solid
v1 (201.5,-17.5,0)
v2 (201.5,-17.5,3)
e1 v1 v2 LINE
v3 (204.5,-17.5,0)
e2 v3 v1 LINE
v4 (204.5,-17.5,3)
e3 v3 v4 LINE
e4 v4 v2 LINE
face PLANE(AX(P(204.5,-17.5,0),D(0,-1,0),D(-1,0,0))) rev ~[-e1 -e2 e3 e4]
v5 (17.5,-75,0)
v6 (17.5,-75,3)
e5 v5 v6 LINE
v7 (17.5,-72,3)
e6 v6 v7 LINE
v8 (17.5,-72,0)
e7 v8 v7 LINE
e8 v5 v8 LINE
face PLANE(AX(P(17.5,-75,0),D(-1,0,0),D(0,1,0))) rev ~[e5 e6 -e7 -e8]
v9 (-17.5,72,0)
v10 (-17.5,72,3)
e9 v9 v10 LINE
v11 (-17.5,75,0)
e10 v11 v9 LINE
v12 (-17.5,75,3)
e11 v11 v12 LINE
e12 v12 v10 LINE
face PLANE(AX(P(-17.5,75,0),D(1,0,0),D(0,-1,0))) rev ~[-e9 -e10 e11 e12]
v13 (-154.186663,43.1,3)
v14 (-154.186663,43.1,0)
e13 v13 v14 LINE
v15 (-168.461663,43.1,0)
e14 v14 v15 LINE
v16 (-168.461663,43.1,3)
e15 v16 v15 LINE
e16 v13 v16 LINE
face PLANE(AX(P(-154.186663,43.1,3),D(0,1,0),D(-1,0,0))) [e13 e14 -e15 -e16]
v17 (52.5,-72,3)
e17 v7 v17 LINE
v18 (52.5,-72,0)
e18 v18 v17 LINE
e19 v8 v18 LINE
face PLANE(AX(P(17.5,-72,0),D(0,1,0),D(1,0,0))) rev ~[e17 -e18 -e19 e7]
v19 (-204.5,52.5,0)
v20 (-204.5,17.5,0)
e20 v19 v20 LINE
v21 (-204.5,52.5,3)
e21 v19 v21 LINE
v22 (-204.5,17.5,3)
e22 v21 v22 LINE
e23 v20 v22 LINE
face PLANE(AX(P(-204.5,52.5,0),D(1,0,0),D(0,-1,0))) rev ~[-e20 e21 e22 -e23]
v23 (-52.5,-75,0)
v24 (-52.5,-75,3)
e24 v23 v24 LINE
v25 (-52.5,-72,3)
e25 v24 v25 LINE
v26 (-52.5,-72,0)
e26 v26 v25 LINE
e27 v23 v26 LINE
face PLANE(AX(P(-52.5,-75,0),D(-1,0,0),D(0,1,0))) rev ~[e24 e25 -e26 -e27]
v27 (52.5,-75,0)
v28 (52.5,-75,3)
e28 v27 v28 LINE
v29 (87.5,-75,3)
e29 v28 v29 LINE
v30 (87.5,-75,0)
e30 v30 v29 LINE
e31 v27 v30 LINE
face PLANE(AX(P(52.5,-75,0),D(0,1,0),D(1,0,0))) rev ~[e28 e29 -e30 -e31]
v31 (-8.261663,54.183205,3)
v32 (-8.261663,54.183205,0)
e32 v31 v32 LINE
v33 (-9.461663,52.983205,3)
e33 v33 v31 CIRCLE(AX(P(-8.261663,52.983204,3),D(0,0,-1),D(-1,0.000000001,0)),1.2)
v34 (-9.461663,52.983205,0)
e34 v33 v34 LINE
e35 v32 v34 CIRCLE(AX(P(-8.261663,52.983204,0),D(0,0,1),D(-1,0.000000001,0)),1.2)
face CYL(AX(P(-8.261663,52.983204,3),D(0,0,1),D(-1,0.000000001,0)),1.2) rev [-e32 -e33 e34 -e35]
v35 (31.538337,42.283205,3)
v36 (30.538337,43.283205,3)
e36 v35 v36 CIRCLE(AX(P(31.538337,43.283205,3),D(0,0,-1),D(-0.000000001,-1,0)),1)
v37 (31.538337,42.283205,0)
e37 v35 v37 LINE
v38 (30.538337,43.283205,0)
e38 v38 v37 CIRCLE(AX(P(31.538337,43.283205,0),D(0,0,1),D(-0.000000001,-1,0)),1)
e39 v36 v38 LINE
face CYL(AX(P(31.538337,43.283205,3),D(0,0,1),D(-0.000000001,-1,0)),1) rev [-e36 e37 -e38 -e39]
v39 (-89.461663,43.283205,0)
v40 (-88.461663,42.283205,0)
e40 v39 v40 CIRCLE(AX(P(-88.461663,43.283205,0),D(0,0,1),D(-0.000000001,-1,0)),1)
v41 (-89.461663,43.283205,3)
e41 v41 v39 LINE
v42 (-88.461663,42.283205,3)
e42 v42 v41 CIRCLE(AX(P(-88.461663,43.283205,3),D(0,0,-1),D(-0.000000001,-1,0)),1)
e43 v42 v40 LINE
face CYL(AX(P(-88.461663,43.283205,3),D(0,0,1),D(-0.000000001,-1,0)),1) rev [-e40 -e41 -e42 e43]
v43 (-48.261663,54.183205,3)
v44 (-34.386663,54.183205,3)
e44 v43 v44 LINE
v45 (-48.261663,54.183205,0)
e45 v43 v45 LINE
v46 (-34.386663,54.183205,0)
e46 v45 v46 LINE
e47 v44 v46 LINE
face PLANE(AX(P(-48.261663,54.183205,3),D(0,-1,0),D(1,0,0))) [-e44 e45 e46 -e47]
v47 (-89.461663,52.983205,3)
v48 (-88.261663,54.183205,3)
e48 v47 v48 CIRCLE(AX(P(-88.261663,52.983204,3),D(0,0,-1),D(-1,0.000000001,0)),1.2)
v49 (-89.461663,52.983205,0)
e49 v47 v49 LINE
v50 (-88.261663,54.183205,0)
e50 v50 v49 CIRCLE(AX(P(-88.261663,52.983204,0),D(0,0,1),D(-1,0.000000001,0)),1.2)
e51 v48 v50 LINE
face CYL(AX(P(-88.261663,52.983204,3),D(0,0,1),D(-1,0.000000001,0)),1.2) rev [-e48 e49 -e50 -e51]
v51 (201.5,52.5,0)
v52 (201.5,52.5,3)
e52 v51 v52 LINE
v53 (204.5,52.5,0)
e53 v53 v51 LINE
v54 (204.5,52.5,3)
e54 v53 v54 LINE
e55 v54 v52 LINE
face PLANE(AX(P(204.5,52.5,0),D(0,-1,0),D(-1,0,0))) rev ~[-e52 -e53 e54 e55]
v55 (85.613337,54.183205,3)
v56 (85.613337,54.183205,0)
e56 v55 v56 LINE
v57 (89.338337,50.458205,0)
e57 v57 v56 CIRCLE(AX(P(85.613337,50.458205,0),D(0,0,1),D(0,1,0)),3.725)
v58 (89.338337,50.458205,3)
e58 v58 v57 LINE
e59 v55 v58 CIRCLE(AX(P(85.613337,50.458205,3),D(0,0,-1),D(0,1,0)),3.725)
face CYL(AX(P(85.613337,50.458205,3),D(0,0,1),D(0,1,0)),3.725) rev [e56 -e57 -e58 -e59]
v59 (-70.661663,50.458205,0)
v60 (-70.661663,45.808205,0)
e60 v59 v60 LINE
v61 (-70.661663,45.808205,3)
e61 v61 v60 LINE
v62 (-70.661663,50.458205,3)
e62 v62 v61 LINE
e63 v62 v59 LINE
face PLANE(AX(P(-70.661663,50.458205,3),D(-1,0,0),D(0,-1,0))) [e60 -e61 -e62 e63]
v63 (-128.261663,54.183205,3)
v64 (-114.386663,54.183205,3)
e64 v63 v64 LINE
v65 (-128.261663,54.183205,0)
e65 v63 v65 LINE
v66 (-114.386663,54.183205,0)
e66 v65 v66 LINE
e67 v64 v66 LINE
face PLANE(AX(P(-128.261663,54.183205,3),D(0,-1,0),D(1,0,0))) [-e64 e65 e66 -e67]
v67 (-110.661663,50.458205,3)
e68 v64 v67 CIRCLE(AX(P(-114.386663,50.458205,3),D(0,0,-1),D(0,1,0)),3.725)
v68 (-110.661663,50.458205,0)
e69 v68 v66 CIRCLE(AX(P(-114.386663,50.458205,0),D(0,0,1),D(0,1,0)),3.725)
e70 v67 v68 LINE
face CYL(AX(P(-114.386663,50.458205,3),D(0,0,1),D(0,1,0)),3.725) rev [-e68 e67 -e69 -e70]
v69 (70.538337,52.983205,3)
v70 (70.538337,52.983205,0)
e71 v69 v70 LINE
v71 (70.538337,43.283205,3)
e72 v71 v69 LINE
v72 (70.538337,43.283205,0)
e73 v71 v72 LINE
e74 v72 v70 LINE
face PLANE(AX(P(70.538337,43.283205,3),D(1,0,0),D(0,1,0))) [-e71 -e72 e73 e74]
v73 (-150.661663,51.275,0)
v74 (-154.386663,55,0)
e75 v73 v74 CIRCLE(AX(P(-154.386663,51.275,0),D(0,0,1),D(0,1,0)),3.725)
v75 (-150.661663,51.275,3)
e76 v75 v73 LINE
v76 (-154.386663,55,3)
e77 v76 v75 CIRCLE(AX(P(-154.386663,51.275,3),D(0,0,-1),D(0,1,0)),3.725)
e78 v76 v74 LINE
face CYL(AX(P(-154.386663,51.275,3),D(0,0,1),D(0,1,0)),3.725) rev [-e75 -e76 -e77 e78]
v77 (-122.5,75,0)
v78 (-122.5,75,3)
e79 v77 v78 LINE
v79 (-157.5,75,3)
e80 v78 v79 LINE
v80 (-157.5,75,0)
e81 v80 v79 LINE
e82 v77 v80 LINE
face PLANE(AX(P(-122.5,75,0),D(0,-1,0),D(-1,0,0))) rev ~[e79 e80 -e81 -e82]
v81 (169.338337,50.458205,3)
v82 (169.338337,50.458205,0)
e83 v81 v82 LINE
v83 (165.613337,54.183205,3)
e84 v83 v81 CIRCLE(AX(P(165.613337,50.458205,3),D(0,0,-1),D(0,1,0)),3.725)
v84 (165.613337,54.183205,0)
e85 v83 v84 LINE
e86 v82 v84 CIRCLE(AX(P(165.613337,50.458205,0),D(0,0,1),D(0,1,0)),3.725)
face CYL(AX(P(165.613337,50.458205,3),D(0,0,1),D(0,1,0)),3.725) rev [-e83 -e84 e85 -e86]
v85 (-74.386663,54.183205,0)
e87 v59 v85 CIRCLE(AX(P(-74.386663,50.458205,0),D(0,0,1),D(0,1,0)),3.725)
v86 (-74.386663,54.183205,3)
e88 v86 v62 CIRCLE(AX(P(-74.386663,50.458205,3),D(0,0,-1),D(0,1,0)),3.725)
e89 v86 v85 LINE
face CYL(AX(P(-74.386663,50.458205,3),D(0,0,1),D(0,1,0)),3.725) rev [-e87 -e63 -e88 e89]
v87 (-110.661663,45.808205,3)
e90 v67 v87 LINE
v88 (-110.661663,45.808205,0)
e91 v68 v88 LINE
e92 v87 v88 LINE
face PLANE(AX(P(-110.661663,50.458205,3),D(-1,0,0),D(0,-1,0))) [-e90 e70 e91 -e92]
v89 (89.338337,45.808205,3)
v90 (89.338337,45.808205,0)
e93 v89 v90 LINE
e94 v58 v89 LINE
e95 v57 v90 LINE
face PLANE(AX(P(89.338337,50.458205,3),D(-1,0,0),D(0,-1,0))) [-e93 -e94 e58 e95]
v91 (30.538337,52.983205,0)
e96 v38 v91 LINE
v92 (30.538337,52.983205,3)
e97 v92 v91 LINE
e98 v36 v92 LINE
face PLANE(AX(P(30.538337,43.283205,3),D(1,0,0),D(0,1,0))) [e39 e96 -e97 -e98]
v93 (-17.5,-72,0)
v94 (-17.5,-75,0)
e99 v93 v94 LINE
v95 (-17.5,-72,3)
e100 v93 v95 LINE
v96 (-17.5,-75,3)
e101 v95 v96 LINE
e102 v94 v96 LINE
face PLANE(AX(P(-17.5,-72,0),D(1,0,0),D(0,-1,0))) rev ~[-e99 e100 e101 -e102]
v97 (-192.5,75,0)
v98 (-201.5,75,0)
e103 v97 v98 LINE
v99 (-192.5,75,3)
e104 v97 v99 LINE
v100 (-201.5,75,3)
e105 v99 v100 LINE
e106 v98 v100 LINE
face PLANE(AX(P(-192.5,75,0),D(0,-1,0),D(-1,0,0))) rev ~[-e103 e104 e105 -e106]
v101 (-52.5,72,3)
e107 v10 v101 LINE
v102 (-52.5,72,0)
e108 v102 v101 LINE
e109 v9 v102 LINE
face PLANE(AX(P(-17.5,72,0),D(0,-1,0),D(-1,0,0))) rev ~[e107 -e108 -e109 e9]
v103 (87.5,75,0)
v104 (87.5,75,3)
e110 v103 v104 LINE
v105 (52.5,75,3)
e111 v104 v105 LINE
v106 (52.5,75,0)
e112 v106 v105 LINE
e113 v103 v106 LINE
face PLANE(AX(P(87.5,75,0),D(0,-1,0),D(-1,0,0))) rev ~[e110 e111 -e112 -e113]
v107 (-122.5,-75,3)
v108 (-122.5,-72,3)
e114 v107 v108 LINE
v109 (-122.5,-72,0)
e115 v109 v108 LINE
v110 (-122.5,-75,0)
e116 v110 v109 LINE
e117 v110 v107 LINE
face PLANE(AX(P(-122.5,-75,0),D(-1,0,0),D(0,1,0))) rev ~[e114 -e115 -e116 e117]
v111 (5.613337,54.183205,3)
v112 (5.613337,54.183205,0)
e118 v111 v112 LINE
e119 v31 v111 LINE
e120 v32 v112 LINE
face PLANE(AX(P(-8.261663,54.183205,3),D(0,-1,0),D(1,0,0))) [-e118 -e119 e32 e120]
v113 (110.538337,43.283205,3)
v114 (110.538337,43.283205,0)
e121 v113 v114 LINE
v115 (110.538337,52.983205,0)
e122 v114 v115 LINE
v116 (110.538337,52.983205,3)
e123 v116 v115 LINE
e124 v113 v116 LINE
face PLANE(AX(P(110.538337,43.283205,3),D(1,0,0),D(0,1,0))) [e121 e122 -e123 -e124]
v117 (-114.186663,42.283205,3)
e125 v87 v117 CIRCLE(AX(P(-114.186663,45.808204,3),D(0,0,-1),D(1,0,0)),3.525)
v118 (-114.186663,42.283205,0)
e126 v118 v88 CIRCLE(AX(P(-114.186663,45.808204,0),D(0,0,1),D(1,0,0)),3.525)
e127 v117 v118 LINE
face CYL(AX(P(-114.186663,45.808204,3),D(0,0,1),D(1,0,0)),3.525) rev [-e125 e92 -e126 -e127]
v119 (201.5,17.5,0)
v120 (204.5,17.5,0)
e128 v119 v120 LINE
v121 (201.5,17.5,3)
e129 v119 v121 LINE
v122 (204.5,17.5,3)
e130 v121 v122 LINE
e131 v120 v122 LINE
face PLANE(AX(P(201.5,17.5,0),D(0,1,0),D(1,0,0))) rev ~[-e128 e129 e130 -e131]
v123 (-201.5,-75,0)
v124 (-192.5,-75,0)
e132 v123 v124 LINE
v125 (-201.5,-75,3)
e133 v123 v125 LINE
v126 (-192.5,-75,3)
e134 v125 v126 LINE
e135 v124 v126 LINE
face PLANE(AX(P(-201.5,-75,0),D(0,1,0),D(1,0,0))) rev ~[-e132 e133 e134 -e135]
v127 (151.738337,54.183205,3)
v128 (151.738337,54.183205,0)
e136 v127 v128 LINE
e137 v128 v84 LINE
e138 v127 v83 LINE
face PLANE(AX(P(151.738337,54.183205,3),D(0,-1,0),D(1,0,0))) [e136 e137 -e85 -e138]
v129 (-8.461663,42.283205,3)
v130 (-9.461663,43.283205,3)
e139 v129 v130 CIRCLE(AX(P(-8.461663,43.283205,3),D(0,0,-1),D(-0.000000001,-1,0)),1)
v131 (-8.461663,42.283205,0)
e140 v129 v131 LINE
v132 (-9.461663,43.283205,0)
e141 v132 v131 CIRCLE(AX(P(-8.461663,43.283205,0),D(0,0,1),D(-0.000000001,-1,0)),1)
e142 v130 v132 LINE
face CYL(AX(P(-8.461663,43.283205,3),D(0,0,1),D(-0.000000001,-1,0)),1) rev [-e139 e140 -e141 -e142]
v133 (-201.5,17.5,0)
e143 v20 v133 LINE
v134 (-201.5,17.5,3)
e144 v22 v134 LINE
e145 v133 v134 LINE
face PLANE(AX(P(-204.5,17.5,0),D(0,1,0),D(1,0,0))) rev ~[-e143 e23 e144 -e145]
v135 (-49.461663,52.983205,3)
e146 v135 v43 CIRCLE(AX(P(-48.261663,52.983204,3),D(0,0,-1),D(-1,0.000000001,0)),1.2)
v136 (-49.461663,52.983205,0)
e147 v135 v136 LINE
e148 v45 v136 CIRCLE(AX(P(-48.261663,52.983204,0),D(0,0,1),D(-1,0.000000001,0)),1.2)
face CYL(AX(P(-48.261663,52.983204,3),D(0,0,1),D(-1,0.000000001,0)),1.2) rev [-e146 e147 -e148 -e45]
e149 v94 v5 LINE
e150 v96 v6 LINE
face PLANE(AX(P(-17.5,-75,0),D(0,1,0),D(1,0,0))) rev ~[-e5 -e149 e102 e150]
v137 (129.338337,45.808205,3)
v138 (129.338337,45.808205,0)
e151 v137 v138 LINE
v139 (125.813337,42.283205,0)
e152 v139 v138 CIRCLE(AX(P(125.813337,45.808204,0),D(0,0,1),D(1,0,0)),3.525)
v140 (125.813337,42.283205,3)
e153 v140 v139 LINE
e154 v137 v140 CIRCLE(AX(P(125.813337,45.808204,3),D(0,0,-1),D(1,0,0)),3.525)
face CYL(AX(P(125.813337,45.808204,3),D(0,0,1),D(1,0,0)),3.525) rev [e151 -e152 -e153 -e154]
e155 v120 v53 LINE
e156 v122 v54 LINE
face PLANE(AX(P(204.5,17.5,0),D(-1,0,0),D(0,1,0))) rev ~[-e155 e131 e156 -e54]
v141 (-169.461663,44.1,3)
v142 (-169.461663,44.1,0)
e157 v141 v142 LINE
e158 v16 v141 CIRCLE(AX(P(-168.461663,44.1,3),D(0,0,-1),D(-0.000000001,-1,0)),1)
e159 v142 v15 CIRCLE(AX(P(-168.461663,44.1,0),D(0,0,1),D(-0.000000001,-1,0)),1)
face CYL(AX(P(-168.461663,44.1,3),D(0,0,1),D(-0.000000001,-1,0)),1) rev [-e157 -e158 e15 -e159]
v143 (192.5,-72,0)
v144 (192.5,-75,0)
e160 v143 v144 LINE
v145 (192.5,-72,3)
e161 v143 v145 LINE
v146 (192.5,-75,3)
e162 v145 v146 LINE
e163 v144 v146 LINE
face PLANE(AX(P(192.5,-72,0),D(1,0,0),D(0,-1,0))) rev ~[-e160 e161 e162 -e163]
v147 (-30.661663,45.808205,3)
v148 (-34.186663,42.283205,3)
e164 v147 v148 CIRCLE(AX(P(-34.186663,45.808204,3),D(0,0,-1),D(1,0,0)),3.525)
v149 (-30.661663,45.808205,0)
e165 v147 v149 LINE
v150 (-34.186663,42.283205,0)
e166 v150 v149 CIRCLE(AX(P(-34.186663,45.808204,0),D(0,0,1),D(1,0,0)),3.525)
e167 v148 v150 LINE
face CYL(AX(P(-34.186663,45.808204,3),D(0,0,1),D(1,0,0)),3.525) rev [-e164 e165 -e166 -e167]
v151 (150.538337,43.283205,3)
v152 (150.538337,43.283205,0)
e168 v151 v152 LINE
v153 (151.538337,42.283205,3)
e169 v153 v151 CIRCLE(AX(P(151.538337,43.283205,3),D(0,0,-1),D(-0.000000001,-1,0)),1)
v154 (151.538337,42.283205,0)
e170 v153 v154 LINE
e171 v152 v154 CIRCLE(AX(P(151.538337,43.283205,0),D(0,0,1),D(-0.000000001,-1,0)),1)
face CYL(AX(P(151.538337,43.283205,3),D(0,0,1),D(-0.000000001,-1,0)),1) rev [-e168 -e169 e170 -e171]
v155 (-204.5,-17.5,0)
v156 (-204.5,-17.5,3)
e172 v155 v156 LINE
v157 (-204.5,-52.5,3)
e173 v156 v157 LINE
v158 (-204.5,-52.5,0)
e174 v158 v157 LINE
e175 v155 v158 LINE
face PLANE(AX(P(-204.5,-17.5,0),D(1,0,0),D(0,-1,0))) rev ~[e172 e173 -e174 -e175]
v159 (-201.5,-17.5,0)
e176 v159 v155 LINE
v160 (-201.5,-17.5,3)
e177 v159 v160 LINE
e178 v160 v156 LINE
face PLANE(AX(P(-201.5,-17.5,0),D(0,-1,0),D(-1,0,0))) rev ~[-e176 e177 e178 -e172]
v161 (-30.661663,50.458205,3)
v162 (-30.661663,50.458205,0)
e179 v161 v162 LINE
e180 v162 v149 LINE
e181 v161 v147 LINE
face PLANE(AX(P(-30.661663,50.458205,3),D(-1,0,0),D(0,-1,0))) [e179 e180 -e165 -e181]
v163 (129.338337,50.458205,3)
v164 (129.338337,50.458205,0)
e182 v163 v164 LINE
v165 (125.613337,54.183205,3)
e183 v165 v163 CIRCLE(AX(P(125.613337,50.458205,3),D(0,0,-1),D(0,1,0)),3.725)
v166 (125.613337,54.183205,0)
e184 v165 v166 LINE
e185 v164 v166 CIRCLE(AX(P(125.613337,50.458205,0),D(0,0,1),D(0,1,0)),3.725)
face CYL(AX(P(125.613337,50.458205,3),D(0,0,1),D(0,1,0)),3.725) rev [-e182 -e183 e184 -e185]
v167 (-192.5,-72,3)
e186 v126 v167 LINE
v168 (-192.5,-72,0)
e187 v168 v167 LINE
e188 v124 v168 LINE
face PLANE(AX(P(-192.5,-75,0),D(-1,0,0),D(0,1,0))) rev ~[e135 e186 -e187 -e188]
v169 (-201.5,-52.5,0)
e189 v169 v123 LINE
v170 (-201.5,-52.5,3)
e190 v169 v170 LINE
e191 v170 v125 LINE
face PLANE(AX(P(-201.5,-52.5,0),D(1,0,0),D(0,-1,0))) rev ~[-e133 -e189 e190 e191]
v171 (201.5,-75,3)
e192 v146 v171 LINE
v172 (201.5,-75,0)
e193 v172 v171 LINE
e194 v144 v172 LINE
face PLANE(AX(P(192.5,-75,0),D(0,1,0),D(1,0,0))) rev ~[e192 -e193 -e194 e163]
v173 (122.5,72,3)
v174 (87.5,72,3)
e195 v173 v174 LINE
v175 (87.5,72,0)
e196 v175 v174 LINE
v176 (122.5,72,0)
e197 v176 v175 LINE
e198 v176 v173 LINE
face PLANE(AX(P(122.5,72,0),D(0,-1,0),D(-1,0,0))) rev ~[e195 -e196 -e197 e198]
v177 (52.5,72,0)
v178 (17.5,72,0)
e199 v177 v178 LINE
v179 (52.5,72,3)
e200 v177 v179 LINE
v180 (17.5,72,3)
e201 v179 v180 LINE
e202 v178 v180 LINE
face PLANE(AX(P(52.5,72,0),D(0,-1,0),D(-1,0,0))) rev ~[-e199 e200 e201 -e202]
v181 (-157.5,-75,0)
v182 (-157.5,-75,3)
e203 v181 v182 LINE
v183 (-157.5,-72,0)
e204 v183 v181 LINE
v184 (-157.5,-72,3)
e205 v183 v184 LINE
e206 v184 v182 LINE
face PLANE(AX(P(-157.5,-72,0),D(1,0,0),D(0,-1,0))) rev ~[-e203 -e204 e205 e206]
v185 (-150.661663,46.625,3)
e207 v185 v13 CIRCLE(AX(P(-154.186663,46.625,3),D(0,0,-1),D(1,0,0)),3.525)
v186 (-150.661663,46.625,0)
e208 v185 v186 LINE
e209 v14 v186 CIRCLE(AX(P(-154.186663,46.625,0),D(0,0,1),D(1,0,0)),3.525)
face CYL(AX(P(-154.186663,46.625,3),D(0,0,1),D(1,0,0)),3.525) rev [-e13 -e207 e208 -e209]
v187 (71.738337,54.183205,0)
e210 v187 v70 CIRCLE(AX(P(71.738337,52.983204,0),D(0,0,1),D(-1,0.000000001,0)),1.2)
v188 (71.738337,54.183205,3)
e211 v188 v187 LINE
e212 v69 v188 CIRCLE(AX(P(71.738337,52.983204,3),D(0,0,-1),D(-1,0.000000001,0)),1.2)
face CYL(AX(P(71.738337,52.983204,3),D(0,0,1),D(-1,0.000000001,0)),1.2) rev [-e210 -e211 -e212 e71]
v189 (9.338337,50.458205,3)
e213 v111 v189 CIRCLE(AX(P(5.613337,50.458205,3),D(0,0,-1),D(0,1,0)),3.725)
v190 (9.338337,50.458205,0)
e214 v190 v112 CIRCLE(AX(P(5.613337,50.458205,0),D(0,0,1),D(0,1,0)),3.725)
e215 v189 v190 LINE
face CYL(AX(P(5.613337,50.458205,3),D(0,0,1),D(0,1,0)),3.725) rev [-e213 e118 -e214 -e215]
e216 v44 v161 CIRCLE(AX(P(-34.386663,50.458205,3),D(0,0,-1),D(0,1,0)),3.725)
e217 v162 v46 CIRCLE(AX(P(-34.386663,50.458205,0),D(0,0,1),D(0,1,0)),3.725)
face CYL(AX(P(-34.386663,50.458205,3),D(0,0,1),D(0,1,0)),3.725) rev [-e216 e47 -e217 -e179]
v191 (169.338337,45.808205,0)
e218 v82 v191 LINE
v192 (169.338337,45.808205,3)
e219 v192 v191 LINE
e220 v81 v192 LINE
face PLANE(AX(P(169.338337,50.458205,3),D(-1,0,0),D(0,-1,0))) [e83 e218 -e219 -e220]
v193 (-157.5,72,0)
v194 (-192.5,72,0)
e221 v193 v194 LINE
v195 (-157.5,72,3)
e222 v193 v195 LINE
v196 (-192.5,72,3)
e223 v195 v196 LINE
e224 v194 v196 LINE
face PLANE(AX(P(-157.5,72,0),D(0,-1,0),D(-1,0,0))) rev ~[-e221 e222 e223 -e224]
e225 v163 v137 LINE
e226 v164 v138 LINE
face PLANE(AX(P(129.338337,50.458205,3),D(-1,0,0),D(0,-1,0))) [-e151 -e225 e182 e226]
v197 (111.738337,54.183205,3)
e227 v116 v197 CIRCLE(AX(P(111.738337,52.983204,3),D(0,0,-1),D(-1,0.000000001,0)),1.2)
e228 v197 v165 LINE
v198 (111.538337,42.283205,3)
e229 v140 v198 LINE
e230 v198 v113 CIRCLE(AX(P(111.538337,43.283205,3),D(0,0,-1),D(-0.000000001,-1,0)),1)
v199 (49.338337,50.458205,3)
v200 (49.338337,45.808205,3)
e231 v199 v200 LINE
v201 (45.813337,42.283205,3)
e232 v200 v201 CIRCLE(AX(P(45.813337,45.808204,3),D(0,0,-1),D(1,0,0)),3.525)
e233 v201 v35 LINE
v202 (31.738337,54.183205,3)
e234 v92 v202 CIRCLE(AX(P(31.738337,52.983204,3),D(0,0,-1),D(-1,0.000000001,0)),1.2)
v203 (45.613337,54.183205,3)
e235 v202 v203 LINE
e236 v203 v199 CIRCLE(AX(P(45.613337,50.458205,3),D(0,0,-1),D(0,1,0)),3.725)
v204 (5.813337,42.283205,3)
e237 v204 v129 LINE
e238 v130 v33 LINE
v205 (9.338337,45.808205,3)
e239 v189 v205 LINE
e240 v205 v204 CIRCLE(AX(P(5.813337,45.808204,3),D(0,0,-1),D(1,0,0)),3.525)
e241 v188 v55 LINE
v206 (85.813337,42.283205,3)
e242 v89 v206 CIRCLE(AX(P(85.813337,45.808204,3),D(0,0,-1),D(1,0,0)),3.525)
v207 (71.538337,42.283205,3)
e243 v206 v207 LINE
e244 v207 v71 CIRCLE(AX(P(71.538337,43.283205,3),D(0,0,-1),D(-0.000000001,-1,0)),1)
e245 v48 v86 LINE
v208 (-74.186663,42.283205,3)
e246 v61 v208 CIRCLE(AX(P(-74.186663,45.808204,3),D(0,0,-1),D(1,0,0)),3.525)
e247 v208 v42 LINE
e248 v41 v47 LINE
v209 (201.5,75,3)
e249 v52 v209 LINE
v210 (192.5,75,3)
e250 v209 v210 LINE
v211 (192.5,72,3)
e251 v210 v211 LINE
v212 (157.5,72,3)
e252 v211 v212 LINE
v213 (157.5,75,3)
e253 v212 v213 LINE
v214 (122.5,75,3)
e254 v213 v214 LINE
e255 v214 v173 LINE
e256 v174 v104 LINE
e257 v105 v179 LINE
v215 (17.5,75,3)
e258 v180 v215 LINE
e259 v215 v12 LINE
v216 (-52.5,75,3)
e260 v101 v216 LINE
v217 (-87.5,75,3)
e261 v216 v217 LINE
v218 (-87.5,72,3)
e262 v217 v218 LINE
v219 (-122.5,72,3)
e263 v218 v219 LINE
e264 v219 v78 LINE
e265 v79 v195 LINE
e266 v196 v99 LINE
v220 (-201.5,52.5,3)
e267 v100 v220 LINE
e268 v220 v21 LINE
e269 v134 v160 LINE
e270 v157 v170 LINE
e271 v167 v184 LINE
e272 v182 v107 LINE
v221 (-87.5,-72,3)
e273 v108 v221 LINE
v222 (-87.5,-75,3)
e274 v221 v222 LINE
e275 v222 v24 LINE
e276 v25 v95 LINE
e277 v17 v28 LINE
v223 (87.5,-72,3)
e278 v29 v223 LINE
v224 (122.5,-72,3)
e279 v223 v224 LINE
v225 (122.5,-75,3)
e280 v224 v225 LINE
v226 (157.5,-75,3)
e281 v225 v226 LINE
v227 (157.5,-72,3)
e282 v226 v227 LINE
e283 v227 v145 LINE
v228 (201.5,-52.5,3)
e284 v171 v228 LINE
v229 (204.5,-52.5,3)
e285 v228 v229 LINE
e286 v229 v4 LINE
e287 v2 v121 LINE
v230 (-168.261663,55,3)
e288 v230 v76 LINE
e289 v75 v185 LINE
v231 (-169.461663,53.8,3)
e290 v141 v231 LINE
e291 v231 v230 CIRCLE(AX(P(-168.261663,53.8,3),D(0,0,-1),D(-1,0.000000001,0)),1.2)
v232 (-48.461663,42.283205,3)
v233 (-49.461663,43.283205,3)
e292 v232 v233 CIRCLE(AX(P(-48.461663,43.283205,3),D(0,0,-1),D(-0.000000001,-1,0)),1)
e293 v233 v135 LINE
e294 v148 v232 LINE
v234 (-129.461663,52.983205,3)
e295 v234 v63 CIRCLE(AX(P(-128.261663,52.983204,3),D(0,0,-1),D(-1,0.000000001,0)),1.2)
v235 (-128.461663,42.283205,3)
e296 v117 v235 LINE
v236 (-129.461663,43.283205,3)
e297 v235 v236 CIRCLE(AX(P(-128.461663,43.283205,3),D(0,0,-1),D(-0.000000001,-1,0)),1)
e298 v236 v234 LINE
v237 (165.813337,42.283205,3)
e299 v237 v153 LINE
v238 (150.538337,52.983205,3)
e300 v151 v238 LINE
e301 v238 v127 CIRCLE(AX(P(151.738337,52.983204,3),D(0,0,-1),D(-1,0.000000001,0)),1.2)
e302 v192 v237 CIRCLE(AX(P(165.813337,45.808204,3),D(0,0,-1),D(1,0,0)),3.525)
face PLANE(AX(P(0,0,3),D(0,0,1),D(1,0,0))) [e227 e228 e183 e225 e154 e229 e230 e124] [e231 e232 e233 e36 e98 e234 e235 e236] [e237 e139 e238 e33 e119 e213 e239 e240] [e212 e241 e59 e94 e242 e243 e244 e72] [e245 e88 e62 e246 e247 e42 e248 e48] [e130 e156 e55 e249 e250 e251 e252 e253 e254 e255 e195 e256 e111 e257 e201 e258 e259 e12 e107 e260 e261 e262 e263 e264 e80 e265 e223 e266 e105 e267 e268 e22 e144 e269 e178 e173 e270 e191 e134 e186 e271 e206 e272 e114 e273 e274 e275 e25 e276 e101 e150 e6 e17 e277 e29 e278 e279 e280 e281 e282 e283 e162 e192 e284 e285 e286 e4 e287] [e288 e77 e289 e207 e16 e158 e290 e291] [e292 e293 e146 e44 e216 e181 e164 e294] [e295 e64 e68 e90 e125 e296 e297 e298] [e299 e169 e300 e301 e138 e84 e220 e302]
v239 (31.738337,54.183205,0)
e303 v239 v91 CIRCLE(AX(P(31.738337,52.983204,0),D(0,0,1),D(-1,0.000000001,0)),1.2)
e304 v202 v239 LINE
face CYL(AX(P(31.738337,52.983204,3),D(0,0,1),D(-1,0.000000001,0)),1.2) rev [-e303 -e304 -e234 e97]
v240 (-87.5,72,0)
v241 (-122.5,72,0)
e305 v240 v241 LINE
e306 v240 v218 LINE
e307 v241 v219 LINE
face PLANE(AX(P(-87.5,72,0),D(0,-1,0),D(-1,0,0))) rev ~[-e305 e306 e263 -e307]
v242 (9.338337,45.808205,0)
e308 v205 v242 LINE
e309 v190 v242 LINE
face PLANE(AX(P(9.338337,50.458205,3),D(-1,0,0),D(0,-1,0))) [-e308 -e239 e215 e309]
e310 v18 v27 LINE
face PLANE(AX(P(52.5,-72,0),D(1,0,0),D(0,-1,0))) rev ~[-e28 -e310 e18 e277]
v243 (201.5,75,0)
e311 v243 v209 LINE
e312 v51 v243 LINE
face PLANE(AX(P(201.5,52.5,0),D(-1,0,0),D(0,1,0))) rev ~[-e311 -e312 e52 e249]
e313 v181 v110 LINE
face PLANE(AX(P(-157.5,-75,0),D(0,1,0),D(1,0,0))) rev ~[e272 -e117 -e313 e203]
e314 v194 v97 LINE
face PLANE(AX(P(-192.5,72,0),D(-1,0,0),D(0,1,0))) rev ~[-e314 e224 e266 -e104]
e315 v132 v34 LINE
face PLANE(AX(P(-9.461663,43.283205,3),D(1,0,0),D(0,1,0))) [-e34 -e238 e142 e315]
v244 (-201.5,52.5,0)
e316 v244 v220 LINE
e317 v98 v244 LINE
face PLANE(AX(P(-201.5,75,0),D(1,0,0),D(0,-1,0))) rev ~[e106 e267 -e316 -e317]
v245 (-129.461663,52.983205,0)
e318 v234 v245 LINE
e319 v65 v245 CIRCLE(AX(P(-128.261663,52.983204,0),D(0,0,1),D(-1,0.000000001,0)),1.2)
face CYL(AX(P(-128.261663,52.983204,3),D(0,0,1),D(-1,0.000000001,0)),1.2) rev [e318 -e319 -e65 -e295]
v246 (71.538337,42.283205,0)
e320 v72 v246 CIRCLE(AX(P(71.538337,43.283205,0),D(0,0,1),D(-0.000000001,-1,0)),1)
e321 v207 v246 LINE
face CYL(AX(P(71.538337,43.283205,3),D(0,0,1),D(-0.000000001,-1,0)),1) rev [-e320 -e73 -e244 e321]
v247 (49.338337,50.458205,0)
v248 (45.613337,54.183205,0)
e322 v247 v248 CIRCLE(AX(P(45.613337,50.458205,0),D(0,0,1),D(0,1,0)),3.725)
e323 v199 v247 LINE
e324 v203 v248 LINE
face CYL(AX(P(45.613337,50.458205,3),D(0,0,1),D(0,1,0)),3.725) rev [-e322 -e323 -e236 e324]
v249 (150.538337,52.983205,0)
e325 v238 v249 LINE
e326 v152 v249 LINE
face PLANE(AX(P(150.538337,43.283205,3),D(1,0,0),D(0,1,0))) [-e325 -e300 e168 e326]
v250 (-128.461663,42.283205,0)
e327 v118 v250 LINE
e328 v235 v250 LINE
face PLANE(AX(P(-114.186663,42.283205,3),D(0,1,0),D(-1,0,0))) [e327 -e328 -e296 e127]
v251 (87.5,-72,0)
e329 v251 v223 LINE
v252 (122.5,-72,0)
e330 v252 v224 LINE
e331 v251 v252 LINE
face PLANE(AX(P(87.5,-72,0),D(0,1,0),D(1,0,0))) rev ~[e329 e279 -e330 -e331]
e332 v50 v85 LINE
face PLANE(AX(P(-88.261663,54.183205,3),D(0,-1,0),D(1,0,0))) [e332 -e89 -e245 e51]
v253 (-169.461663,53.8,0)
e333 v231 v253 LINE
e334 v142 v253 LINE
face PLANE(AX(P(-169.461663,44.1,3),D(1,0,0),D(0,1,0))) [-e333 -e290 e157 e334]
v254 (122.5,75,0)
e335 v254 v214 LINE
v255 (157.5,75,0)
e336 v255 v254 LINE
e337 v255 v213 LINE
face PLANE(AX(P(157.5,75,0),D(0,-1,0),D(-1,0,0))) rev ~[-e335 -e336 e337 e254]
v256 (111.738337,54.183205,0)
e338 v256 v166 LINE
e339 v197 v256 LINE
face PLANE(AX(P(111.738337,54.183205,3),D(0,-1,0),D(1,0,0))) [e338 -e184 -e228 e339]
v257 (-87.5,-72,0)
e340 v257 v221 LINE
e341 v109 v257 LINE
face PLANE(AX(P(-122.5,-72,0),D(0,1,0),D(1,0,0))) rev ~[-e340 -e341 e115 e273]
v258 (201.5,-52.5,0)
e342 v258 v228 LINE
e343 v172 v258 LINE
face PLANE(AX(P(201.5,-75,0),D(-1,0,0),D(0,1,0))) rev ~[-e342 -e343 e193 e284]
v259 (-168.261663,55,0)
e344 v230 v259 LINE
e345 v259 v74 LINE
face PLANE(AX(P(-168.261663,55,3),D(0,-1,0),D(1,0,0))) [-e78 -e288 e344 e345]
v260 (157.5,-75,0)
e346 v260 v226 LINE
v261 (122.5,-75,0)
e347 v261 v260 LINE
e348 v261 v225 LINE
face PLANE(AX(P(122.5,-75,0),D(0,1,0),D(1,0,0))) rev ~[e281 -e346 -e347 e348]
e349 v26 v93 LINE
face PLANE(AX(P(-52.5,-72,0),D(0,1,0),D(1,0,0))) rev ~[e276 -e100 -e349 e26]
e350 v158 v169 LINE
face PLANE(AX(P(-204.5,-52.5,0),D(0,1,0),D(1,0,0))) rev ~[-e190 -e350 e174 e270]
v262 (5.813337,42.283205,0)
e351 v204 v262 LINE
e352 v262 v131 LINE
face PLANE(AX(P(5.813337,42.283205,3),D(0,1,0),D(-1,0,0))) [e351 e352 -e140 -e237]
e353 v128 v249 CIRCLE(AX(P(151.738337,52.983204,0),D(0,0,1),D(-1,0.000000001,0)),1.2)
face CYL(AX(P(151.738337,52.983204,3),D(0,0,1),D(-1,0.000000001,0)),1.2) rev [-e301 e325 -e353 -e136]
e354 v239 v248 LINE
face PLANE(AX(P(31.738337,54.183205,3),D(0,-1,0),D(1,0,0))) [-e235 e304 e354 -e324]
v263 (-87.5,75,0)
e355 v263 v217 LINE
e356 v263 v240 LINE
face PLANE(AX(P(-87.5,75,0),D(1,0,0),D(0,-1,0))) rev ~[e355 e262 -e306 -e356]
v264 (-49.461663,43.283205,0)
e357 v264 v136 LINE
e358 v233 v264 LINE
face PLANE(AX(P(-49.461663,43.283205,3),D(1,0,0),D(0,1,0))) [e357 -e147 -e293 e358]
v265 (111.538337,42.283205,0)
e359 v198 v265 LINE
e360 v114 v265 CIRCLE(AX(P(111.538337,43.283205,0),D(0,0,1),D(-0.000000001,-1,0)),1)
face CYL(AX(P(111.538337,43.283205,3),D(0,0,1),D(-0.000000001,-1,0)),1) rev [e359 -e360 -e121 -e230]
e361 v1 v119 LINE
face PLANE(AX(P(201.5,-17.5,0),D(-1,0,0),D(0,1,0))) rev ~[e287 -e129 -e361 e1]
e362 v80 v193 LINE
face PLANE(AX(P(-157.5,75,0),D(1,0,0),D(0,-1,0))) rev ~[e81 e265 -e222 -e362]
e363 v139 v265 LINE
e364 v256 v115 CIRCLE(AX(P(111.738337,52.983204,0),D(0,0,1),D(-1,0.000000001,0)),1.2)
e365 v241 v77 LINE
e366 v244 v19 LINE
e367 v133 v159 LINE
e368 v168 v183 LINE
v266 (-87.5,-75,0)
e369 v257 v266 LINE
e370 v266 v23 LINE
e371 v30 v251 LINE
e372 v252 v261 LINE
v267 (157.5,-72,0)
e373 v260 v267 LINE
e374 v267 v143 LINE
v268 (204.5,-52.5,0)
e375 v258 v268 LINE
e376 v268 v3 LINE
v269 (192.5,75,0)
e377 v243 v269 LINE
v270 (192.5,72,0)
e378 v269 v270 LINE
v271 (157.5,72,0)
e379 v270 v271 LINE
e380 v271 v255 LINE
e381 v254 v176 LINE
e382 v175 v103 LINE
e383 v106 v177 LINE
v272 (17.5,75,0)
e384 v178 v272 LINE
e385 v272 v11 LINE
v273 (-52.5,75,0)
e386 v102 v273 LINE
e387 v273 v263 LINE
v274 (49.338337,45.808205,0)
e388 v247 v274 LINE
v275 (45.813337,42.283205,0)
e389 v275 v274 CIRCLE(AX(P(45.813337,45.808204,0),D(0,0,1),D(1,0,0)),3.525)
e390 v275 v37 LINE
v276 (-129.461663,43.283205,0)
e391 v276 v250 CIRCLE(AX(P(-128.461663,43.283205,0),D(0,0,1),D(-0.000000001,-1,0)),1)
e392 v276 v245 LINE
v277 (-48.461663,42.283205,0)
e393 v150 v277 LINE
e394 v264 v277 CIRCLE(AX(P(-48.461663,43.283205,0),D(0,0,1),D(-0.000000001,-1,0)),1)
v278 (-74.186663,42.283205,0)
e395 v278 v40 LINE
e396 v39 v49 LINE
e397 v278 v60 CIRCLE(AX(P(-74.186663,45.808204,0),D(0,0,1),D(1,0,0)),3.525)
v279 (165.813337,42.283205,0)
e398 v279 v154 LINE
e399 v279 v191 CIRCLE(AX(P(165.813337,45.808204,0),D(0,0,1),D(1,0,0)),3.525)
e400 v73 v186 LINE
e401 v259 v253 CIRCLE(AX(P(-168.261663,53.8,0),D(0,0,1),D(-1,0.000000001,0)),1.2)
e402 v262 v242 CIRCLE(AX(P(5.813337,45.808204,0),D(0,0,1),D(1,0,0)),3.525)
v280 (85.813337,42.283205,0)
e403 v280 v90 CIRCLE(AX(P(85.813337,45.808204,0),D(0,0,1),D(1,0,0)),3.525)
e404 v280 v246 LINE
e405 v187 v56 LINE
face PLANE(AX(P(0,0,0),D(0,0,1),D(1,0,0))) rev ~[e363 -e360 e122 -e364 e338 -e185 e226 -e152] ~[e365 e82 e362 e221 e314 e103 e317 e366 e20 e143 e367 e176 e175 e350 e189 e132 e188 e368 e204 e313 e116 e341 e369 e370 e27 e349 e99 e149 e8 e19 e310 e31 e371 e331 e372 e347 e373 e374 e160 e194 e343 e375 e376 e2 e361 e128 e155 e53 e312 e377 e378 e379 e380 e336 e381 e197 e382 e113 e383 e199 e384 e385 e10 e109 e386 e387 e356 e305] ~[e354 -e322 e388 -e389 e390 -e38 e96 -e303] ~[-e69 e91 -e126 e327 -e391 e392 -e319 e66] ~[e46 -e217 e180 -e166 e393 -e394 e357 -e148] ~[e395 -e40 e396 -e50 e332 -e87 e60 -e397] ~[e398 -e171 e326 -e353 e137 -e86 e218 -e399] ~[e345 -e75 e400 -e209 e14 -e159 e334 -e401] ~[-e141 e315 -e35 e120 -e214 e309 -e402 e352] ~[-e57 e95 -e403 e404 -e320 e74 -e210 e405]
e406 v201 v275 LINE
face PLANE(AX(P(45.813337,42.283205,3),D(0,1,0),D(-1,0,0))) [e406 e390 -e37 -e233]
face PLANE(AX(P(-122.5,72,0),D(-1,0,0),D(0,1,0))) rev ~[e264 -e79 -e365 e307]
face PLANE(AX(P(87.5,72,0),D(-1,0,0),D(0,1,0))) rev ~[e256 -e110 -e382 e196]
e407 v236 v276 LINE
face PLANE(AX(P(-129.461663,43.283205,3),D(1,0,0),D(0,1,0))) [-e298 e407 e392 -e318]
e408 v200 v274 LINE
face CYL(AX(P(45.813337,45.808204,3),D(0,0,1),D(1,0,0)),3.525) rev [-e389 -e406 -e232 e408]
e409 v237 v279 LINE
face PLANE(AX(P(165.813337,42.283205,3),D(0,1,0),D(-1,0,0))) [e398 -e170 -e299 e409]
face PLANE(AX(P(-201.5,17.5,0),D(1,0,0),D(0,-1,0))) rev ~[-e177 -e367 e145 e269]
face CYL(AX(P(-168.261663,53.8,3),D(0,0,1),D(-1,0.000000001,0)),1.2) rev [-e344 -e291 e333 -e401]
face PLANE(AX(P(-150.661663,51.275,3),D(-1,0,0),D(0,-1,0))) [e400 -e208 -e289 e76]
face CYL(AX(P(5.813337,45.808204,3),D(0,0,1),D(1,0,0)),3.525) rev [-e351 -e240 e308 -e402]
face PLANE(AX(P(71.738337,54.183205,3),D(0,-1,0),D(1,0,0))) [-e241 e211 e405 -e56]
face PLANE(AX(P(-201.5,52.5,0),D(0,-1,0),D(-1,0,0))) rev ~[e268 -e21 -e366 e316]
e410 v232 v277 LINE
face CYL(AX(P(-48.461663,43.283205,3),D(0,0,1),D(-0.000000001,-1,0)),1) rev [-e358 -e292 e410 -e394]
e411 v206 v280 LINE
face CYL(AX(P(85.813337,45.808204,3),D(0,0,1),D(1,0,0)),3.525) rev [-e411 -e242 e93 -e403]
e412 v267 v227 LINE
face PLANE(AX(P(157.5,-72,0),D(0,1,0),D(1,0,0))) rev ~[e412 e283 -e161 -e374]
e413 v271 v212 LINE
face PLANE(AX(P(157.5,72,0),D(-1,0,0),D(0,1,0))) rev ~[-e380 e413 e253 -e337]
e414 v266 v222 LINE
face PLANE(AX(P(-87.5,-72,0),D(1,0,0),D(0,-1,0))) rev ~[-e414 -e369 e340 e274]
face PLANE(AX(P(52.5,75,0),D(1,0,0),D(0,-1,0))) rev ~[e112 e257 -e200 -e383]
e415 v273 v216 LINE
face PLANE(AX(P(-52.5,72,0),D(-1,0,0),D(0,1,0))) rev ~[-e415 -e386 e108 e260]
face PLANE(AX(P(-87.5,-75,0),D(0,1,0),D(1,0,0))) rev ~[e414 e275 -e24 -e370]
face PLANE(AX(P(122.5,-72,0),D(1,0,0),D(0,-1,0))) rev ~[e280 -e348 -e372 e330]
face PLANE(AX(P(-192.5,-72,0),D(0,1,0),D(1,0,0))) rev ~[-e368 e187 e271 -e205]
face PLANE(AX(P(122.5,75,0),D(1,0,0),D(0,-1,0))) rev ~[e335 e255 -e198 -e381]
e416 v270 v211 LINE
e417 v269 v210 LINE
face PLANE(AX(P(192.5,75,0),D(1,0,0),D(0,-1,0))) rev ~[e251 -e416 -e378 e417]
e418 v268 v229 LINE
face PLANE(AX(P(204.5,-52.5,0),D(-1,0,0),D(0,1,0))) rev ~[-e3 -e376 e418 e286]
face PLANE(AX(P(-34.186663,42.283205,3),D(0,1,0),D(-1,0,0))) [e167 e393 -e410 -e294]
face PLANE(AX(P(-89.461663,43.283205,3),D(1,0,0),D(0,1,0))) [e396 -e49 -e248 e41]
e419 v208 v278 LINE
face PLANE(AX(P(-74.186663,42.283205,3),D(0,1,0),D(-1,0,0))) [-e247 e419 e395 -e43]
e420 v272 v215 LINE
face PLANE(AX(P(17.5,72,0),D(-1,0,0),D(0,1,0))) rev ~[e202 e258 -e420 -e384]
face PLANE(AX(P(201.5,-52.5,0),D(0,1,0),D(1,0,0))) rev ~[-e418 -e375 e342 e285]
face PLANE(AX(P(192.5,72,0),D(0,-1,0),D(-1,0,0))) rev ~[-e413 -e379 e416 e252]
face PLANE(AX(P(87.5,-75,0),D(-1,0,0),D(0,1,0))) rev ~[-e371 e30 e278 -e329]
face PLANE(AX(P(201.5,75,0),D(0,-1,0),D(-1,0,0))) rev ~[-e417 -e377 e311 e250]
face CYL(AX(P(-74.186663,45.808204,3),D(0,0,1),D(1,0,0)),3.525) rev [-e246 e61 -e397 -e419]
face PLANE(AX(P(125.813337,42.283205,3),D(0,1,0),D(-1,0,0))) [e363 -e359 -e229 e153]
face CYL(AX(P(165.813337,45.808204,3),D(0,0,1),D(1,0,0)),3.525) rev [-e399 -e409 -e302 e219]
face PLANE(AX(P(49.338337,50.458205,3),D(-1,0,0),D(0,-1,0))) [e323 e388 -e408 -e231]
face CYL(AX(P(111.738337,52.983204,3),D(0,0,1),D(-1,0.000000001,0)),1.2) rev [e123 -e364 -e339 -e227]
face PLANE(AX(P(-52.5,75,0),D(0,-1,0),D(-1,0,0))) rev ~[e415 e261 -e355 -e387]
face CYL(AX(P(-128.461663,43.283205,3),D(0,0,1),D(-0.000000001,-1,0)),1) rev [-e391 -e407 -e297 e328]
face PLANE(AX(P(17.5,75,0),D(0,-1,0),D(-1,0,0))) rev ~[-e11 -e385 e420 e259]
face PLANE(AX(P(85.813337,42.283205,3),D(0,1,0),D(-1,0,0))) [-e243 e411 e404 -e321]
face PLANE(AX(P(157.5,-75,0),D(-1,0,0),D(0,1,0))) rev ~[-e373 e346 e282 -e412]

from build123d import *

# Parameters (mm, degrees)
BOSS_EXTRUDE1_DEPTH = 3
CUT_EXTRUDE1_DEPTH  = 218.839964194


with BuildPart() as part:
    # Model → Boss-Extrude1 (new body)
    with BuildSketch(Plane.XY):
        Polygon((201.5, 75), (192.5, 75), (192.5, 72), (157.5, 72), (157.5, 75), (122.5, 75), (122.5, 72), (87.5, 72), (87.5, 75), (52.5, 75), (52.5, 72), (17.5, 72), (17.5, 75), (-17.5, 75), (-17.5, 72), (-52.5, 72), (-52.5, 75), (-87.5, 75), (-87.5, 72), (-122.5, 72), (-122.5, 75), (-157.5, 75), (-157.5, 72), (-192.5, 72), (-192.5, 75), (-201.5, 75), (-201.5, 72), (-201.5, 52.5), (-204.5, 52.5), (-204.5, 17.5), (-201.5, 17.5), (-201.5, -17.5), (-204.5, -17.5), (-204.5, -52.5), (-201.5, -52.5), (-201.5, -72), (-201.5, -75), (-192.5, -75), (-192.5, -72), (-157.5, -72), (-157.5, -75), (-122.5, -75), (-122.5, -72), (-87.5, -72), (-87.5, -75), (-52.5, -75), (-52.5, -72), (-17.5, -72), (-17.5, -75), (17.5, -75), (17.5, -72), (52.5, -72), (52.5, -75), (87.5, -75), (87.5, -72), (122.5, -72), (122.5, -75), (157.5, -75), (157.5, -72), (192.5, -72), (192.5, -75), (201.5, -75), (201.5, -72), (201.5, -52.5), (204.5, -52.5), (204.5, -17.5), (201.5, -17.5), (201.5, 17.5), (204.5, 17.5), (204.5, 52.5), (201.5, 52.5), (201.5, 72), align=None)
    extrude(amount=BOSS_EXTRUDE1_DEPTH)

    # Sketch1 → Cut-Extrude1 (cut, through all)
    with BuildSketch(Plane.XY.offset(3)):
        with BuildLine():
            Line((-154.186662726, 43.1), (-168.461662726, 43.1))
            ThreePointArc((-168.461662726, 43.1), (-169.168769507, 43.392893219), (-169.461662726, 44.1))
            Line((-169.461662726, 44.1), (-169.461662726, 53.8))
            ThreePointArc((-169.461662726, 53.8), (-169.110190863, 54.648528137), (-168.261662726, 55))
            Line((-168.261662726, 55), (-154.386662726, 55))
            ThreePointArc((-154.386662726, 55), (-151.752689966, 53.90897276), (-150.661662726, 51.275))
            Line((-150.661662726, 51.275), (-150.661662726, 46.625))
            ThreePointArc((-150.661662726, 46.625), (-151.694111322, 44.132448596), (-154.186662726, 43.1))
        make_face()
        with BuildLine():
            Line((-114.186662726, 42.283204501), (-128.461662726, 42.283204501))
            ThreePointArc((-128.461662726, 42.283204501), (-129.168769507, 42.57609772), (-129.461662726, 43.283204501))
            Line((-129.461662726, 43.283204501), (-129.461662726, 52.983204501))
            ThreePointArc((-129.461662726, 52.983204501), (-129.110190863, 53.831732638), (-128.261662726, 54.183204501))
            Line((-128.261662726, 54.183204501), (-114.386662726, 54.183204501))
            ThreePointArc((-114.386662726, 54.183204501), (-111.752689966, 53.092177261), (-110.661662726, 50.458204501))
            Line((-110.661662726, 50.458204501), (-110.661662726, 45.808204501))
            ThreePointArc((-110.661662726, 45.808204501), (-111.694111322, 43.315653097), (-114.186662726, 42.283204501))
        make_face()
        with BuildLine():
            Line((-74.186662726, 42.283204501), (-88.461662726, 42.283204501))
            ThreePointArc((-88.461662726, 42.283204501), (-89.168769507, 42.57609772), (-89.461662726, 43.283204501))
            Line((-89.461662726, 43.283204501), (-89.461662726, 52.983204501))
            ThreePointArc((-89.461662726, 52.983204501), (-89.110190863, 53.831732638), (-88.261662726, 54.183204501))
            Line((-88.261662726, 54.183204501), (-74.386662726, 54.183204501))
            ThreePointArc((-74.386662726, 54.183204501), (-71.752689966, 53.092177261), (-70.661662726, 50.458204501))
            Line((-70.661662726, 50.458204501), (-70.661662726, 45.808204501))
            ThreePointArc((-70.661662726, 45.808204501), (-71.694111322, 43.315653097), (-74.186662726, 42.283204501))
        make_face()
        with BuildLine():
            Line((-34.186662726, 42.283204501), (-48.461662726, 42.283204501))
            ThreePointArc((-48.461662726, 42.283204501), (-49.168769507, 42.57609772), (-49.461662726, 43.283204501))
            Line((-49.461662726, 43.283204501), (-49.461662726, 52.983204501))
            ThreePointArc((-49.461662726, 52.983204501), (-49.110190863, 53.831732638), (-48.261662726, 54.183204501))
            Line((-48.261662726, 54.183204501), (-34.386662726, 54.183204501))
            ThreePointArc((-34.386662726, 54.183204501), (-31.752689966, 53.092177261), (-30.661662726, 50.458204501))
            Line((-30.661662726, 50.458204501), (-30.661662726, 45.808204501))
            ThreePointArc((-30.661662726, 45.808204501), (-31.694111322, 43.315653097), (-34.186662726, 42.283204501))
        make_face()
        with BuildLine():
            Line((5.813337274, 42.283204501), (-8.461662726, 42.283204501))
            ThreePointArc((-8.461662726, 42.283204501), (-9.168769507, 42.57609772), (-9.461662726, 43.283204501))
            Line((-9.461662726, 43.283204501), (-9.461662726, 52.983204501))
            ThreePointArc((-9.461662726, 52.983204501), (-9.110190863, 53.831732638), (-8.261662726, 54.183204501))
            Line((-8.261662726, 54.183204501), (5.613337274, 54.183204501))
            ThreePointArc((5.613337274, 54.183204501), (8.247310034, 53.092177261), (9.338337274, 50.458204501))
            Line((9.338337274, 50.458204501), (9.338337274, 45.808204501))
            ThreePointArc((9.338337274, 45.808204501), (8.305888678, 43.315653097), (5.813337274, 42.283204501))
        make_face()
        with BuildLine():
            Line((45.813337274, 42.283204501), (31.538337274, 42.283204501))
            ThreePointArc((31.538337274, 42.283204501), (30.831230493, 42.57609772), (30.538337274, 43.283204501))
            Line((30.538337274, 43.283204501), (30.538337274, 52.983204501))
            ThreePointArc((30.538337274, 52.983204501), (30.889809137, 53.831732638), (31.738337274, 54.183204501))
            Line((31.738337274, 54.183204501), (45.613337274, 54.183204501))
            ThreePointArc((45.613337274, 54.183204501), (48.247310034, 53.092177261), (49.338337274, 50.458204501))
            Line((49.338337274, 50.458204501), (49.338337274, 45.808204501))
            ThreePointArc((49.338337274, 45.808204501), (48.305888678, 43.315653097), (45.813337274, 42.283204501))
        make_face()
        with BuildLine():
            Line((85.813337274, 42.283204501), (71.538337274, 42.283204501))
            ThreePointArc((71.538337274, 42.283204501), (70.831230493, 42.57609772), (70.538337274, 43.283204501))
            Line((70.538337274, 43.283204501), (70.538337274, 52.983204501))
            ThreePointArc((70.538337274, 52.983204501), (70.889809137, 53.831732638), (71.738337274, 54.183204501))
            Line((71.738337274, 54.183204501), (85.613337274, 54.183204501))
            ThreePointArc((85.613337274, 54.183204501), (88.247310034, 53.092177261), (89.338337274, 50.458204501))
            Line((89.338337274, 50.458204501), (89.338337274, 45.808204501))
            ThreePointArc((89.338337274, 45.808204501), (88.305888678, 43.315653097), (85.813337274, 42.283204501))
        make_face()
        with BuildLine():
            Line((125.813337274, 42.283204501), (111.538337274, 42.283204501))
            ThreePointArc((111.538337274, 42.283204501), (110.831230493, 42.57609772), (110.538337274, 43.283204501))
            Line((110.538337274, 43.283204501), (110.538337274, 52.983204501))
            ThreePointArc((110.538337274, 52.983204501), (110.889809137, 53.831732638), (111.738337274, 54.183204501))
            Line((111.738337274, 54.183204501), (125.613337274, 54.183204501))
            ThreePointArc((125.613337274, 54.183204501), (128.247310034, 53.092177261), (129.338337274, 50.458204501))
            Line((129.338337274, 50.458204501), (129.338337274, 45.808204501))
            ThreePointArc((129.338337274, 45.808204501), (128.305888678, 43.315653097), (125.813337274, 42.283204501))
        make_face()
        with BuildLine():
            Line((165.813337274, 42.283204501), (151.538337274, 42.283204501))
            ThreePointArc((151.538337274, 42.283204501), (150.831230493, 42.57609772), (150.538337274, 43.283204501))
            Line((150.538337274, 43.283204501), (150.538337274, 52.983204501))
            ThreePointArc((150.538337274, 52.983204501), (150.889809137, 53.831732638), (151.738337274, 54.183204501))
            Line((151.738337274, 54.183204501), (165.613337274, 54.183204501))
            ThreePointArc((165.613337274, 54.183204501), (168.247310034, 53.092177261), (169.338337274, 50.458204501))
            Line((169.338337274, 50.458204501), (169.338337274, 45.808204501))
            ThreePointArc((169.338337274, 45.808204501), (168.305888678, 43.315653097), (165.813337274, 42.283204501))
        make_face()
    extrude(amount=-CUT_EXTRUDE1_DEPTH, mode=Mode.SUBTRACT)


solid = part.part
